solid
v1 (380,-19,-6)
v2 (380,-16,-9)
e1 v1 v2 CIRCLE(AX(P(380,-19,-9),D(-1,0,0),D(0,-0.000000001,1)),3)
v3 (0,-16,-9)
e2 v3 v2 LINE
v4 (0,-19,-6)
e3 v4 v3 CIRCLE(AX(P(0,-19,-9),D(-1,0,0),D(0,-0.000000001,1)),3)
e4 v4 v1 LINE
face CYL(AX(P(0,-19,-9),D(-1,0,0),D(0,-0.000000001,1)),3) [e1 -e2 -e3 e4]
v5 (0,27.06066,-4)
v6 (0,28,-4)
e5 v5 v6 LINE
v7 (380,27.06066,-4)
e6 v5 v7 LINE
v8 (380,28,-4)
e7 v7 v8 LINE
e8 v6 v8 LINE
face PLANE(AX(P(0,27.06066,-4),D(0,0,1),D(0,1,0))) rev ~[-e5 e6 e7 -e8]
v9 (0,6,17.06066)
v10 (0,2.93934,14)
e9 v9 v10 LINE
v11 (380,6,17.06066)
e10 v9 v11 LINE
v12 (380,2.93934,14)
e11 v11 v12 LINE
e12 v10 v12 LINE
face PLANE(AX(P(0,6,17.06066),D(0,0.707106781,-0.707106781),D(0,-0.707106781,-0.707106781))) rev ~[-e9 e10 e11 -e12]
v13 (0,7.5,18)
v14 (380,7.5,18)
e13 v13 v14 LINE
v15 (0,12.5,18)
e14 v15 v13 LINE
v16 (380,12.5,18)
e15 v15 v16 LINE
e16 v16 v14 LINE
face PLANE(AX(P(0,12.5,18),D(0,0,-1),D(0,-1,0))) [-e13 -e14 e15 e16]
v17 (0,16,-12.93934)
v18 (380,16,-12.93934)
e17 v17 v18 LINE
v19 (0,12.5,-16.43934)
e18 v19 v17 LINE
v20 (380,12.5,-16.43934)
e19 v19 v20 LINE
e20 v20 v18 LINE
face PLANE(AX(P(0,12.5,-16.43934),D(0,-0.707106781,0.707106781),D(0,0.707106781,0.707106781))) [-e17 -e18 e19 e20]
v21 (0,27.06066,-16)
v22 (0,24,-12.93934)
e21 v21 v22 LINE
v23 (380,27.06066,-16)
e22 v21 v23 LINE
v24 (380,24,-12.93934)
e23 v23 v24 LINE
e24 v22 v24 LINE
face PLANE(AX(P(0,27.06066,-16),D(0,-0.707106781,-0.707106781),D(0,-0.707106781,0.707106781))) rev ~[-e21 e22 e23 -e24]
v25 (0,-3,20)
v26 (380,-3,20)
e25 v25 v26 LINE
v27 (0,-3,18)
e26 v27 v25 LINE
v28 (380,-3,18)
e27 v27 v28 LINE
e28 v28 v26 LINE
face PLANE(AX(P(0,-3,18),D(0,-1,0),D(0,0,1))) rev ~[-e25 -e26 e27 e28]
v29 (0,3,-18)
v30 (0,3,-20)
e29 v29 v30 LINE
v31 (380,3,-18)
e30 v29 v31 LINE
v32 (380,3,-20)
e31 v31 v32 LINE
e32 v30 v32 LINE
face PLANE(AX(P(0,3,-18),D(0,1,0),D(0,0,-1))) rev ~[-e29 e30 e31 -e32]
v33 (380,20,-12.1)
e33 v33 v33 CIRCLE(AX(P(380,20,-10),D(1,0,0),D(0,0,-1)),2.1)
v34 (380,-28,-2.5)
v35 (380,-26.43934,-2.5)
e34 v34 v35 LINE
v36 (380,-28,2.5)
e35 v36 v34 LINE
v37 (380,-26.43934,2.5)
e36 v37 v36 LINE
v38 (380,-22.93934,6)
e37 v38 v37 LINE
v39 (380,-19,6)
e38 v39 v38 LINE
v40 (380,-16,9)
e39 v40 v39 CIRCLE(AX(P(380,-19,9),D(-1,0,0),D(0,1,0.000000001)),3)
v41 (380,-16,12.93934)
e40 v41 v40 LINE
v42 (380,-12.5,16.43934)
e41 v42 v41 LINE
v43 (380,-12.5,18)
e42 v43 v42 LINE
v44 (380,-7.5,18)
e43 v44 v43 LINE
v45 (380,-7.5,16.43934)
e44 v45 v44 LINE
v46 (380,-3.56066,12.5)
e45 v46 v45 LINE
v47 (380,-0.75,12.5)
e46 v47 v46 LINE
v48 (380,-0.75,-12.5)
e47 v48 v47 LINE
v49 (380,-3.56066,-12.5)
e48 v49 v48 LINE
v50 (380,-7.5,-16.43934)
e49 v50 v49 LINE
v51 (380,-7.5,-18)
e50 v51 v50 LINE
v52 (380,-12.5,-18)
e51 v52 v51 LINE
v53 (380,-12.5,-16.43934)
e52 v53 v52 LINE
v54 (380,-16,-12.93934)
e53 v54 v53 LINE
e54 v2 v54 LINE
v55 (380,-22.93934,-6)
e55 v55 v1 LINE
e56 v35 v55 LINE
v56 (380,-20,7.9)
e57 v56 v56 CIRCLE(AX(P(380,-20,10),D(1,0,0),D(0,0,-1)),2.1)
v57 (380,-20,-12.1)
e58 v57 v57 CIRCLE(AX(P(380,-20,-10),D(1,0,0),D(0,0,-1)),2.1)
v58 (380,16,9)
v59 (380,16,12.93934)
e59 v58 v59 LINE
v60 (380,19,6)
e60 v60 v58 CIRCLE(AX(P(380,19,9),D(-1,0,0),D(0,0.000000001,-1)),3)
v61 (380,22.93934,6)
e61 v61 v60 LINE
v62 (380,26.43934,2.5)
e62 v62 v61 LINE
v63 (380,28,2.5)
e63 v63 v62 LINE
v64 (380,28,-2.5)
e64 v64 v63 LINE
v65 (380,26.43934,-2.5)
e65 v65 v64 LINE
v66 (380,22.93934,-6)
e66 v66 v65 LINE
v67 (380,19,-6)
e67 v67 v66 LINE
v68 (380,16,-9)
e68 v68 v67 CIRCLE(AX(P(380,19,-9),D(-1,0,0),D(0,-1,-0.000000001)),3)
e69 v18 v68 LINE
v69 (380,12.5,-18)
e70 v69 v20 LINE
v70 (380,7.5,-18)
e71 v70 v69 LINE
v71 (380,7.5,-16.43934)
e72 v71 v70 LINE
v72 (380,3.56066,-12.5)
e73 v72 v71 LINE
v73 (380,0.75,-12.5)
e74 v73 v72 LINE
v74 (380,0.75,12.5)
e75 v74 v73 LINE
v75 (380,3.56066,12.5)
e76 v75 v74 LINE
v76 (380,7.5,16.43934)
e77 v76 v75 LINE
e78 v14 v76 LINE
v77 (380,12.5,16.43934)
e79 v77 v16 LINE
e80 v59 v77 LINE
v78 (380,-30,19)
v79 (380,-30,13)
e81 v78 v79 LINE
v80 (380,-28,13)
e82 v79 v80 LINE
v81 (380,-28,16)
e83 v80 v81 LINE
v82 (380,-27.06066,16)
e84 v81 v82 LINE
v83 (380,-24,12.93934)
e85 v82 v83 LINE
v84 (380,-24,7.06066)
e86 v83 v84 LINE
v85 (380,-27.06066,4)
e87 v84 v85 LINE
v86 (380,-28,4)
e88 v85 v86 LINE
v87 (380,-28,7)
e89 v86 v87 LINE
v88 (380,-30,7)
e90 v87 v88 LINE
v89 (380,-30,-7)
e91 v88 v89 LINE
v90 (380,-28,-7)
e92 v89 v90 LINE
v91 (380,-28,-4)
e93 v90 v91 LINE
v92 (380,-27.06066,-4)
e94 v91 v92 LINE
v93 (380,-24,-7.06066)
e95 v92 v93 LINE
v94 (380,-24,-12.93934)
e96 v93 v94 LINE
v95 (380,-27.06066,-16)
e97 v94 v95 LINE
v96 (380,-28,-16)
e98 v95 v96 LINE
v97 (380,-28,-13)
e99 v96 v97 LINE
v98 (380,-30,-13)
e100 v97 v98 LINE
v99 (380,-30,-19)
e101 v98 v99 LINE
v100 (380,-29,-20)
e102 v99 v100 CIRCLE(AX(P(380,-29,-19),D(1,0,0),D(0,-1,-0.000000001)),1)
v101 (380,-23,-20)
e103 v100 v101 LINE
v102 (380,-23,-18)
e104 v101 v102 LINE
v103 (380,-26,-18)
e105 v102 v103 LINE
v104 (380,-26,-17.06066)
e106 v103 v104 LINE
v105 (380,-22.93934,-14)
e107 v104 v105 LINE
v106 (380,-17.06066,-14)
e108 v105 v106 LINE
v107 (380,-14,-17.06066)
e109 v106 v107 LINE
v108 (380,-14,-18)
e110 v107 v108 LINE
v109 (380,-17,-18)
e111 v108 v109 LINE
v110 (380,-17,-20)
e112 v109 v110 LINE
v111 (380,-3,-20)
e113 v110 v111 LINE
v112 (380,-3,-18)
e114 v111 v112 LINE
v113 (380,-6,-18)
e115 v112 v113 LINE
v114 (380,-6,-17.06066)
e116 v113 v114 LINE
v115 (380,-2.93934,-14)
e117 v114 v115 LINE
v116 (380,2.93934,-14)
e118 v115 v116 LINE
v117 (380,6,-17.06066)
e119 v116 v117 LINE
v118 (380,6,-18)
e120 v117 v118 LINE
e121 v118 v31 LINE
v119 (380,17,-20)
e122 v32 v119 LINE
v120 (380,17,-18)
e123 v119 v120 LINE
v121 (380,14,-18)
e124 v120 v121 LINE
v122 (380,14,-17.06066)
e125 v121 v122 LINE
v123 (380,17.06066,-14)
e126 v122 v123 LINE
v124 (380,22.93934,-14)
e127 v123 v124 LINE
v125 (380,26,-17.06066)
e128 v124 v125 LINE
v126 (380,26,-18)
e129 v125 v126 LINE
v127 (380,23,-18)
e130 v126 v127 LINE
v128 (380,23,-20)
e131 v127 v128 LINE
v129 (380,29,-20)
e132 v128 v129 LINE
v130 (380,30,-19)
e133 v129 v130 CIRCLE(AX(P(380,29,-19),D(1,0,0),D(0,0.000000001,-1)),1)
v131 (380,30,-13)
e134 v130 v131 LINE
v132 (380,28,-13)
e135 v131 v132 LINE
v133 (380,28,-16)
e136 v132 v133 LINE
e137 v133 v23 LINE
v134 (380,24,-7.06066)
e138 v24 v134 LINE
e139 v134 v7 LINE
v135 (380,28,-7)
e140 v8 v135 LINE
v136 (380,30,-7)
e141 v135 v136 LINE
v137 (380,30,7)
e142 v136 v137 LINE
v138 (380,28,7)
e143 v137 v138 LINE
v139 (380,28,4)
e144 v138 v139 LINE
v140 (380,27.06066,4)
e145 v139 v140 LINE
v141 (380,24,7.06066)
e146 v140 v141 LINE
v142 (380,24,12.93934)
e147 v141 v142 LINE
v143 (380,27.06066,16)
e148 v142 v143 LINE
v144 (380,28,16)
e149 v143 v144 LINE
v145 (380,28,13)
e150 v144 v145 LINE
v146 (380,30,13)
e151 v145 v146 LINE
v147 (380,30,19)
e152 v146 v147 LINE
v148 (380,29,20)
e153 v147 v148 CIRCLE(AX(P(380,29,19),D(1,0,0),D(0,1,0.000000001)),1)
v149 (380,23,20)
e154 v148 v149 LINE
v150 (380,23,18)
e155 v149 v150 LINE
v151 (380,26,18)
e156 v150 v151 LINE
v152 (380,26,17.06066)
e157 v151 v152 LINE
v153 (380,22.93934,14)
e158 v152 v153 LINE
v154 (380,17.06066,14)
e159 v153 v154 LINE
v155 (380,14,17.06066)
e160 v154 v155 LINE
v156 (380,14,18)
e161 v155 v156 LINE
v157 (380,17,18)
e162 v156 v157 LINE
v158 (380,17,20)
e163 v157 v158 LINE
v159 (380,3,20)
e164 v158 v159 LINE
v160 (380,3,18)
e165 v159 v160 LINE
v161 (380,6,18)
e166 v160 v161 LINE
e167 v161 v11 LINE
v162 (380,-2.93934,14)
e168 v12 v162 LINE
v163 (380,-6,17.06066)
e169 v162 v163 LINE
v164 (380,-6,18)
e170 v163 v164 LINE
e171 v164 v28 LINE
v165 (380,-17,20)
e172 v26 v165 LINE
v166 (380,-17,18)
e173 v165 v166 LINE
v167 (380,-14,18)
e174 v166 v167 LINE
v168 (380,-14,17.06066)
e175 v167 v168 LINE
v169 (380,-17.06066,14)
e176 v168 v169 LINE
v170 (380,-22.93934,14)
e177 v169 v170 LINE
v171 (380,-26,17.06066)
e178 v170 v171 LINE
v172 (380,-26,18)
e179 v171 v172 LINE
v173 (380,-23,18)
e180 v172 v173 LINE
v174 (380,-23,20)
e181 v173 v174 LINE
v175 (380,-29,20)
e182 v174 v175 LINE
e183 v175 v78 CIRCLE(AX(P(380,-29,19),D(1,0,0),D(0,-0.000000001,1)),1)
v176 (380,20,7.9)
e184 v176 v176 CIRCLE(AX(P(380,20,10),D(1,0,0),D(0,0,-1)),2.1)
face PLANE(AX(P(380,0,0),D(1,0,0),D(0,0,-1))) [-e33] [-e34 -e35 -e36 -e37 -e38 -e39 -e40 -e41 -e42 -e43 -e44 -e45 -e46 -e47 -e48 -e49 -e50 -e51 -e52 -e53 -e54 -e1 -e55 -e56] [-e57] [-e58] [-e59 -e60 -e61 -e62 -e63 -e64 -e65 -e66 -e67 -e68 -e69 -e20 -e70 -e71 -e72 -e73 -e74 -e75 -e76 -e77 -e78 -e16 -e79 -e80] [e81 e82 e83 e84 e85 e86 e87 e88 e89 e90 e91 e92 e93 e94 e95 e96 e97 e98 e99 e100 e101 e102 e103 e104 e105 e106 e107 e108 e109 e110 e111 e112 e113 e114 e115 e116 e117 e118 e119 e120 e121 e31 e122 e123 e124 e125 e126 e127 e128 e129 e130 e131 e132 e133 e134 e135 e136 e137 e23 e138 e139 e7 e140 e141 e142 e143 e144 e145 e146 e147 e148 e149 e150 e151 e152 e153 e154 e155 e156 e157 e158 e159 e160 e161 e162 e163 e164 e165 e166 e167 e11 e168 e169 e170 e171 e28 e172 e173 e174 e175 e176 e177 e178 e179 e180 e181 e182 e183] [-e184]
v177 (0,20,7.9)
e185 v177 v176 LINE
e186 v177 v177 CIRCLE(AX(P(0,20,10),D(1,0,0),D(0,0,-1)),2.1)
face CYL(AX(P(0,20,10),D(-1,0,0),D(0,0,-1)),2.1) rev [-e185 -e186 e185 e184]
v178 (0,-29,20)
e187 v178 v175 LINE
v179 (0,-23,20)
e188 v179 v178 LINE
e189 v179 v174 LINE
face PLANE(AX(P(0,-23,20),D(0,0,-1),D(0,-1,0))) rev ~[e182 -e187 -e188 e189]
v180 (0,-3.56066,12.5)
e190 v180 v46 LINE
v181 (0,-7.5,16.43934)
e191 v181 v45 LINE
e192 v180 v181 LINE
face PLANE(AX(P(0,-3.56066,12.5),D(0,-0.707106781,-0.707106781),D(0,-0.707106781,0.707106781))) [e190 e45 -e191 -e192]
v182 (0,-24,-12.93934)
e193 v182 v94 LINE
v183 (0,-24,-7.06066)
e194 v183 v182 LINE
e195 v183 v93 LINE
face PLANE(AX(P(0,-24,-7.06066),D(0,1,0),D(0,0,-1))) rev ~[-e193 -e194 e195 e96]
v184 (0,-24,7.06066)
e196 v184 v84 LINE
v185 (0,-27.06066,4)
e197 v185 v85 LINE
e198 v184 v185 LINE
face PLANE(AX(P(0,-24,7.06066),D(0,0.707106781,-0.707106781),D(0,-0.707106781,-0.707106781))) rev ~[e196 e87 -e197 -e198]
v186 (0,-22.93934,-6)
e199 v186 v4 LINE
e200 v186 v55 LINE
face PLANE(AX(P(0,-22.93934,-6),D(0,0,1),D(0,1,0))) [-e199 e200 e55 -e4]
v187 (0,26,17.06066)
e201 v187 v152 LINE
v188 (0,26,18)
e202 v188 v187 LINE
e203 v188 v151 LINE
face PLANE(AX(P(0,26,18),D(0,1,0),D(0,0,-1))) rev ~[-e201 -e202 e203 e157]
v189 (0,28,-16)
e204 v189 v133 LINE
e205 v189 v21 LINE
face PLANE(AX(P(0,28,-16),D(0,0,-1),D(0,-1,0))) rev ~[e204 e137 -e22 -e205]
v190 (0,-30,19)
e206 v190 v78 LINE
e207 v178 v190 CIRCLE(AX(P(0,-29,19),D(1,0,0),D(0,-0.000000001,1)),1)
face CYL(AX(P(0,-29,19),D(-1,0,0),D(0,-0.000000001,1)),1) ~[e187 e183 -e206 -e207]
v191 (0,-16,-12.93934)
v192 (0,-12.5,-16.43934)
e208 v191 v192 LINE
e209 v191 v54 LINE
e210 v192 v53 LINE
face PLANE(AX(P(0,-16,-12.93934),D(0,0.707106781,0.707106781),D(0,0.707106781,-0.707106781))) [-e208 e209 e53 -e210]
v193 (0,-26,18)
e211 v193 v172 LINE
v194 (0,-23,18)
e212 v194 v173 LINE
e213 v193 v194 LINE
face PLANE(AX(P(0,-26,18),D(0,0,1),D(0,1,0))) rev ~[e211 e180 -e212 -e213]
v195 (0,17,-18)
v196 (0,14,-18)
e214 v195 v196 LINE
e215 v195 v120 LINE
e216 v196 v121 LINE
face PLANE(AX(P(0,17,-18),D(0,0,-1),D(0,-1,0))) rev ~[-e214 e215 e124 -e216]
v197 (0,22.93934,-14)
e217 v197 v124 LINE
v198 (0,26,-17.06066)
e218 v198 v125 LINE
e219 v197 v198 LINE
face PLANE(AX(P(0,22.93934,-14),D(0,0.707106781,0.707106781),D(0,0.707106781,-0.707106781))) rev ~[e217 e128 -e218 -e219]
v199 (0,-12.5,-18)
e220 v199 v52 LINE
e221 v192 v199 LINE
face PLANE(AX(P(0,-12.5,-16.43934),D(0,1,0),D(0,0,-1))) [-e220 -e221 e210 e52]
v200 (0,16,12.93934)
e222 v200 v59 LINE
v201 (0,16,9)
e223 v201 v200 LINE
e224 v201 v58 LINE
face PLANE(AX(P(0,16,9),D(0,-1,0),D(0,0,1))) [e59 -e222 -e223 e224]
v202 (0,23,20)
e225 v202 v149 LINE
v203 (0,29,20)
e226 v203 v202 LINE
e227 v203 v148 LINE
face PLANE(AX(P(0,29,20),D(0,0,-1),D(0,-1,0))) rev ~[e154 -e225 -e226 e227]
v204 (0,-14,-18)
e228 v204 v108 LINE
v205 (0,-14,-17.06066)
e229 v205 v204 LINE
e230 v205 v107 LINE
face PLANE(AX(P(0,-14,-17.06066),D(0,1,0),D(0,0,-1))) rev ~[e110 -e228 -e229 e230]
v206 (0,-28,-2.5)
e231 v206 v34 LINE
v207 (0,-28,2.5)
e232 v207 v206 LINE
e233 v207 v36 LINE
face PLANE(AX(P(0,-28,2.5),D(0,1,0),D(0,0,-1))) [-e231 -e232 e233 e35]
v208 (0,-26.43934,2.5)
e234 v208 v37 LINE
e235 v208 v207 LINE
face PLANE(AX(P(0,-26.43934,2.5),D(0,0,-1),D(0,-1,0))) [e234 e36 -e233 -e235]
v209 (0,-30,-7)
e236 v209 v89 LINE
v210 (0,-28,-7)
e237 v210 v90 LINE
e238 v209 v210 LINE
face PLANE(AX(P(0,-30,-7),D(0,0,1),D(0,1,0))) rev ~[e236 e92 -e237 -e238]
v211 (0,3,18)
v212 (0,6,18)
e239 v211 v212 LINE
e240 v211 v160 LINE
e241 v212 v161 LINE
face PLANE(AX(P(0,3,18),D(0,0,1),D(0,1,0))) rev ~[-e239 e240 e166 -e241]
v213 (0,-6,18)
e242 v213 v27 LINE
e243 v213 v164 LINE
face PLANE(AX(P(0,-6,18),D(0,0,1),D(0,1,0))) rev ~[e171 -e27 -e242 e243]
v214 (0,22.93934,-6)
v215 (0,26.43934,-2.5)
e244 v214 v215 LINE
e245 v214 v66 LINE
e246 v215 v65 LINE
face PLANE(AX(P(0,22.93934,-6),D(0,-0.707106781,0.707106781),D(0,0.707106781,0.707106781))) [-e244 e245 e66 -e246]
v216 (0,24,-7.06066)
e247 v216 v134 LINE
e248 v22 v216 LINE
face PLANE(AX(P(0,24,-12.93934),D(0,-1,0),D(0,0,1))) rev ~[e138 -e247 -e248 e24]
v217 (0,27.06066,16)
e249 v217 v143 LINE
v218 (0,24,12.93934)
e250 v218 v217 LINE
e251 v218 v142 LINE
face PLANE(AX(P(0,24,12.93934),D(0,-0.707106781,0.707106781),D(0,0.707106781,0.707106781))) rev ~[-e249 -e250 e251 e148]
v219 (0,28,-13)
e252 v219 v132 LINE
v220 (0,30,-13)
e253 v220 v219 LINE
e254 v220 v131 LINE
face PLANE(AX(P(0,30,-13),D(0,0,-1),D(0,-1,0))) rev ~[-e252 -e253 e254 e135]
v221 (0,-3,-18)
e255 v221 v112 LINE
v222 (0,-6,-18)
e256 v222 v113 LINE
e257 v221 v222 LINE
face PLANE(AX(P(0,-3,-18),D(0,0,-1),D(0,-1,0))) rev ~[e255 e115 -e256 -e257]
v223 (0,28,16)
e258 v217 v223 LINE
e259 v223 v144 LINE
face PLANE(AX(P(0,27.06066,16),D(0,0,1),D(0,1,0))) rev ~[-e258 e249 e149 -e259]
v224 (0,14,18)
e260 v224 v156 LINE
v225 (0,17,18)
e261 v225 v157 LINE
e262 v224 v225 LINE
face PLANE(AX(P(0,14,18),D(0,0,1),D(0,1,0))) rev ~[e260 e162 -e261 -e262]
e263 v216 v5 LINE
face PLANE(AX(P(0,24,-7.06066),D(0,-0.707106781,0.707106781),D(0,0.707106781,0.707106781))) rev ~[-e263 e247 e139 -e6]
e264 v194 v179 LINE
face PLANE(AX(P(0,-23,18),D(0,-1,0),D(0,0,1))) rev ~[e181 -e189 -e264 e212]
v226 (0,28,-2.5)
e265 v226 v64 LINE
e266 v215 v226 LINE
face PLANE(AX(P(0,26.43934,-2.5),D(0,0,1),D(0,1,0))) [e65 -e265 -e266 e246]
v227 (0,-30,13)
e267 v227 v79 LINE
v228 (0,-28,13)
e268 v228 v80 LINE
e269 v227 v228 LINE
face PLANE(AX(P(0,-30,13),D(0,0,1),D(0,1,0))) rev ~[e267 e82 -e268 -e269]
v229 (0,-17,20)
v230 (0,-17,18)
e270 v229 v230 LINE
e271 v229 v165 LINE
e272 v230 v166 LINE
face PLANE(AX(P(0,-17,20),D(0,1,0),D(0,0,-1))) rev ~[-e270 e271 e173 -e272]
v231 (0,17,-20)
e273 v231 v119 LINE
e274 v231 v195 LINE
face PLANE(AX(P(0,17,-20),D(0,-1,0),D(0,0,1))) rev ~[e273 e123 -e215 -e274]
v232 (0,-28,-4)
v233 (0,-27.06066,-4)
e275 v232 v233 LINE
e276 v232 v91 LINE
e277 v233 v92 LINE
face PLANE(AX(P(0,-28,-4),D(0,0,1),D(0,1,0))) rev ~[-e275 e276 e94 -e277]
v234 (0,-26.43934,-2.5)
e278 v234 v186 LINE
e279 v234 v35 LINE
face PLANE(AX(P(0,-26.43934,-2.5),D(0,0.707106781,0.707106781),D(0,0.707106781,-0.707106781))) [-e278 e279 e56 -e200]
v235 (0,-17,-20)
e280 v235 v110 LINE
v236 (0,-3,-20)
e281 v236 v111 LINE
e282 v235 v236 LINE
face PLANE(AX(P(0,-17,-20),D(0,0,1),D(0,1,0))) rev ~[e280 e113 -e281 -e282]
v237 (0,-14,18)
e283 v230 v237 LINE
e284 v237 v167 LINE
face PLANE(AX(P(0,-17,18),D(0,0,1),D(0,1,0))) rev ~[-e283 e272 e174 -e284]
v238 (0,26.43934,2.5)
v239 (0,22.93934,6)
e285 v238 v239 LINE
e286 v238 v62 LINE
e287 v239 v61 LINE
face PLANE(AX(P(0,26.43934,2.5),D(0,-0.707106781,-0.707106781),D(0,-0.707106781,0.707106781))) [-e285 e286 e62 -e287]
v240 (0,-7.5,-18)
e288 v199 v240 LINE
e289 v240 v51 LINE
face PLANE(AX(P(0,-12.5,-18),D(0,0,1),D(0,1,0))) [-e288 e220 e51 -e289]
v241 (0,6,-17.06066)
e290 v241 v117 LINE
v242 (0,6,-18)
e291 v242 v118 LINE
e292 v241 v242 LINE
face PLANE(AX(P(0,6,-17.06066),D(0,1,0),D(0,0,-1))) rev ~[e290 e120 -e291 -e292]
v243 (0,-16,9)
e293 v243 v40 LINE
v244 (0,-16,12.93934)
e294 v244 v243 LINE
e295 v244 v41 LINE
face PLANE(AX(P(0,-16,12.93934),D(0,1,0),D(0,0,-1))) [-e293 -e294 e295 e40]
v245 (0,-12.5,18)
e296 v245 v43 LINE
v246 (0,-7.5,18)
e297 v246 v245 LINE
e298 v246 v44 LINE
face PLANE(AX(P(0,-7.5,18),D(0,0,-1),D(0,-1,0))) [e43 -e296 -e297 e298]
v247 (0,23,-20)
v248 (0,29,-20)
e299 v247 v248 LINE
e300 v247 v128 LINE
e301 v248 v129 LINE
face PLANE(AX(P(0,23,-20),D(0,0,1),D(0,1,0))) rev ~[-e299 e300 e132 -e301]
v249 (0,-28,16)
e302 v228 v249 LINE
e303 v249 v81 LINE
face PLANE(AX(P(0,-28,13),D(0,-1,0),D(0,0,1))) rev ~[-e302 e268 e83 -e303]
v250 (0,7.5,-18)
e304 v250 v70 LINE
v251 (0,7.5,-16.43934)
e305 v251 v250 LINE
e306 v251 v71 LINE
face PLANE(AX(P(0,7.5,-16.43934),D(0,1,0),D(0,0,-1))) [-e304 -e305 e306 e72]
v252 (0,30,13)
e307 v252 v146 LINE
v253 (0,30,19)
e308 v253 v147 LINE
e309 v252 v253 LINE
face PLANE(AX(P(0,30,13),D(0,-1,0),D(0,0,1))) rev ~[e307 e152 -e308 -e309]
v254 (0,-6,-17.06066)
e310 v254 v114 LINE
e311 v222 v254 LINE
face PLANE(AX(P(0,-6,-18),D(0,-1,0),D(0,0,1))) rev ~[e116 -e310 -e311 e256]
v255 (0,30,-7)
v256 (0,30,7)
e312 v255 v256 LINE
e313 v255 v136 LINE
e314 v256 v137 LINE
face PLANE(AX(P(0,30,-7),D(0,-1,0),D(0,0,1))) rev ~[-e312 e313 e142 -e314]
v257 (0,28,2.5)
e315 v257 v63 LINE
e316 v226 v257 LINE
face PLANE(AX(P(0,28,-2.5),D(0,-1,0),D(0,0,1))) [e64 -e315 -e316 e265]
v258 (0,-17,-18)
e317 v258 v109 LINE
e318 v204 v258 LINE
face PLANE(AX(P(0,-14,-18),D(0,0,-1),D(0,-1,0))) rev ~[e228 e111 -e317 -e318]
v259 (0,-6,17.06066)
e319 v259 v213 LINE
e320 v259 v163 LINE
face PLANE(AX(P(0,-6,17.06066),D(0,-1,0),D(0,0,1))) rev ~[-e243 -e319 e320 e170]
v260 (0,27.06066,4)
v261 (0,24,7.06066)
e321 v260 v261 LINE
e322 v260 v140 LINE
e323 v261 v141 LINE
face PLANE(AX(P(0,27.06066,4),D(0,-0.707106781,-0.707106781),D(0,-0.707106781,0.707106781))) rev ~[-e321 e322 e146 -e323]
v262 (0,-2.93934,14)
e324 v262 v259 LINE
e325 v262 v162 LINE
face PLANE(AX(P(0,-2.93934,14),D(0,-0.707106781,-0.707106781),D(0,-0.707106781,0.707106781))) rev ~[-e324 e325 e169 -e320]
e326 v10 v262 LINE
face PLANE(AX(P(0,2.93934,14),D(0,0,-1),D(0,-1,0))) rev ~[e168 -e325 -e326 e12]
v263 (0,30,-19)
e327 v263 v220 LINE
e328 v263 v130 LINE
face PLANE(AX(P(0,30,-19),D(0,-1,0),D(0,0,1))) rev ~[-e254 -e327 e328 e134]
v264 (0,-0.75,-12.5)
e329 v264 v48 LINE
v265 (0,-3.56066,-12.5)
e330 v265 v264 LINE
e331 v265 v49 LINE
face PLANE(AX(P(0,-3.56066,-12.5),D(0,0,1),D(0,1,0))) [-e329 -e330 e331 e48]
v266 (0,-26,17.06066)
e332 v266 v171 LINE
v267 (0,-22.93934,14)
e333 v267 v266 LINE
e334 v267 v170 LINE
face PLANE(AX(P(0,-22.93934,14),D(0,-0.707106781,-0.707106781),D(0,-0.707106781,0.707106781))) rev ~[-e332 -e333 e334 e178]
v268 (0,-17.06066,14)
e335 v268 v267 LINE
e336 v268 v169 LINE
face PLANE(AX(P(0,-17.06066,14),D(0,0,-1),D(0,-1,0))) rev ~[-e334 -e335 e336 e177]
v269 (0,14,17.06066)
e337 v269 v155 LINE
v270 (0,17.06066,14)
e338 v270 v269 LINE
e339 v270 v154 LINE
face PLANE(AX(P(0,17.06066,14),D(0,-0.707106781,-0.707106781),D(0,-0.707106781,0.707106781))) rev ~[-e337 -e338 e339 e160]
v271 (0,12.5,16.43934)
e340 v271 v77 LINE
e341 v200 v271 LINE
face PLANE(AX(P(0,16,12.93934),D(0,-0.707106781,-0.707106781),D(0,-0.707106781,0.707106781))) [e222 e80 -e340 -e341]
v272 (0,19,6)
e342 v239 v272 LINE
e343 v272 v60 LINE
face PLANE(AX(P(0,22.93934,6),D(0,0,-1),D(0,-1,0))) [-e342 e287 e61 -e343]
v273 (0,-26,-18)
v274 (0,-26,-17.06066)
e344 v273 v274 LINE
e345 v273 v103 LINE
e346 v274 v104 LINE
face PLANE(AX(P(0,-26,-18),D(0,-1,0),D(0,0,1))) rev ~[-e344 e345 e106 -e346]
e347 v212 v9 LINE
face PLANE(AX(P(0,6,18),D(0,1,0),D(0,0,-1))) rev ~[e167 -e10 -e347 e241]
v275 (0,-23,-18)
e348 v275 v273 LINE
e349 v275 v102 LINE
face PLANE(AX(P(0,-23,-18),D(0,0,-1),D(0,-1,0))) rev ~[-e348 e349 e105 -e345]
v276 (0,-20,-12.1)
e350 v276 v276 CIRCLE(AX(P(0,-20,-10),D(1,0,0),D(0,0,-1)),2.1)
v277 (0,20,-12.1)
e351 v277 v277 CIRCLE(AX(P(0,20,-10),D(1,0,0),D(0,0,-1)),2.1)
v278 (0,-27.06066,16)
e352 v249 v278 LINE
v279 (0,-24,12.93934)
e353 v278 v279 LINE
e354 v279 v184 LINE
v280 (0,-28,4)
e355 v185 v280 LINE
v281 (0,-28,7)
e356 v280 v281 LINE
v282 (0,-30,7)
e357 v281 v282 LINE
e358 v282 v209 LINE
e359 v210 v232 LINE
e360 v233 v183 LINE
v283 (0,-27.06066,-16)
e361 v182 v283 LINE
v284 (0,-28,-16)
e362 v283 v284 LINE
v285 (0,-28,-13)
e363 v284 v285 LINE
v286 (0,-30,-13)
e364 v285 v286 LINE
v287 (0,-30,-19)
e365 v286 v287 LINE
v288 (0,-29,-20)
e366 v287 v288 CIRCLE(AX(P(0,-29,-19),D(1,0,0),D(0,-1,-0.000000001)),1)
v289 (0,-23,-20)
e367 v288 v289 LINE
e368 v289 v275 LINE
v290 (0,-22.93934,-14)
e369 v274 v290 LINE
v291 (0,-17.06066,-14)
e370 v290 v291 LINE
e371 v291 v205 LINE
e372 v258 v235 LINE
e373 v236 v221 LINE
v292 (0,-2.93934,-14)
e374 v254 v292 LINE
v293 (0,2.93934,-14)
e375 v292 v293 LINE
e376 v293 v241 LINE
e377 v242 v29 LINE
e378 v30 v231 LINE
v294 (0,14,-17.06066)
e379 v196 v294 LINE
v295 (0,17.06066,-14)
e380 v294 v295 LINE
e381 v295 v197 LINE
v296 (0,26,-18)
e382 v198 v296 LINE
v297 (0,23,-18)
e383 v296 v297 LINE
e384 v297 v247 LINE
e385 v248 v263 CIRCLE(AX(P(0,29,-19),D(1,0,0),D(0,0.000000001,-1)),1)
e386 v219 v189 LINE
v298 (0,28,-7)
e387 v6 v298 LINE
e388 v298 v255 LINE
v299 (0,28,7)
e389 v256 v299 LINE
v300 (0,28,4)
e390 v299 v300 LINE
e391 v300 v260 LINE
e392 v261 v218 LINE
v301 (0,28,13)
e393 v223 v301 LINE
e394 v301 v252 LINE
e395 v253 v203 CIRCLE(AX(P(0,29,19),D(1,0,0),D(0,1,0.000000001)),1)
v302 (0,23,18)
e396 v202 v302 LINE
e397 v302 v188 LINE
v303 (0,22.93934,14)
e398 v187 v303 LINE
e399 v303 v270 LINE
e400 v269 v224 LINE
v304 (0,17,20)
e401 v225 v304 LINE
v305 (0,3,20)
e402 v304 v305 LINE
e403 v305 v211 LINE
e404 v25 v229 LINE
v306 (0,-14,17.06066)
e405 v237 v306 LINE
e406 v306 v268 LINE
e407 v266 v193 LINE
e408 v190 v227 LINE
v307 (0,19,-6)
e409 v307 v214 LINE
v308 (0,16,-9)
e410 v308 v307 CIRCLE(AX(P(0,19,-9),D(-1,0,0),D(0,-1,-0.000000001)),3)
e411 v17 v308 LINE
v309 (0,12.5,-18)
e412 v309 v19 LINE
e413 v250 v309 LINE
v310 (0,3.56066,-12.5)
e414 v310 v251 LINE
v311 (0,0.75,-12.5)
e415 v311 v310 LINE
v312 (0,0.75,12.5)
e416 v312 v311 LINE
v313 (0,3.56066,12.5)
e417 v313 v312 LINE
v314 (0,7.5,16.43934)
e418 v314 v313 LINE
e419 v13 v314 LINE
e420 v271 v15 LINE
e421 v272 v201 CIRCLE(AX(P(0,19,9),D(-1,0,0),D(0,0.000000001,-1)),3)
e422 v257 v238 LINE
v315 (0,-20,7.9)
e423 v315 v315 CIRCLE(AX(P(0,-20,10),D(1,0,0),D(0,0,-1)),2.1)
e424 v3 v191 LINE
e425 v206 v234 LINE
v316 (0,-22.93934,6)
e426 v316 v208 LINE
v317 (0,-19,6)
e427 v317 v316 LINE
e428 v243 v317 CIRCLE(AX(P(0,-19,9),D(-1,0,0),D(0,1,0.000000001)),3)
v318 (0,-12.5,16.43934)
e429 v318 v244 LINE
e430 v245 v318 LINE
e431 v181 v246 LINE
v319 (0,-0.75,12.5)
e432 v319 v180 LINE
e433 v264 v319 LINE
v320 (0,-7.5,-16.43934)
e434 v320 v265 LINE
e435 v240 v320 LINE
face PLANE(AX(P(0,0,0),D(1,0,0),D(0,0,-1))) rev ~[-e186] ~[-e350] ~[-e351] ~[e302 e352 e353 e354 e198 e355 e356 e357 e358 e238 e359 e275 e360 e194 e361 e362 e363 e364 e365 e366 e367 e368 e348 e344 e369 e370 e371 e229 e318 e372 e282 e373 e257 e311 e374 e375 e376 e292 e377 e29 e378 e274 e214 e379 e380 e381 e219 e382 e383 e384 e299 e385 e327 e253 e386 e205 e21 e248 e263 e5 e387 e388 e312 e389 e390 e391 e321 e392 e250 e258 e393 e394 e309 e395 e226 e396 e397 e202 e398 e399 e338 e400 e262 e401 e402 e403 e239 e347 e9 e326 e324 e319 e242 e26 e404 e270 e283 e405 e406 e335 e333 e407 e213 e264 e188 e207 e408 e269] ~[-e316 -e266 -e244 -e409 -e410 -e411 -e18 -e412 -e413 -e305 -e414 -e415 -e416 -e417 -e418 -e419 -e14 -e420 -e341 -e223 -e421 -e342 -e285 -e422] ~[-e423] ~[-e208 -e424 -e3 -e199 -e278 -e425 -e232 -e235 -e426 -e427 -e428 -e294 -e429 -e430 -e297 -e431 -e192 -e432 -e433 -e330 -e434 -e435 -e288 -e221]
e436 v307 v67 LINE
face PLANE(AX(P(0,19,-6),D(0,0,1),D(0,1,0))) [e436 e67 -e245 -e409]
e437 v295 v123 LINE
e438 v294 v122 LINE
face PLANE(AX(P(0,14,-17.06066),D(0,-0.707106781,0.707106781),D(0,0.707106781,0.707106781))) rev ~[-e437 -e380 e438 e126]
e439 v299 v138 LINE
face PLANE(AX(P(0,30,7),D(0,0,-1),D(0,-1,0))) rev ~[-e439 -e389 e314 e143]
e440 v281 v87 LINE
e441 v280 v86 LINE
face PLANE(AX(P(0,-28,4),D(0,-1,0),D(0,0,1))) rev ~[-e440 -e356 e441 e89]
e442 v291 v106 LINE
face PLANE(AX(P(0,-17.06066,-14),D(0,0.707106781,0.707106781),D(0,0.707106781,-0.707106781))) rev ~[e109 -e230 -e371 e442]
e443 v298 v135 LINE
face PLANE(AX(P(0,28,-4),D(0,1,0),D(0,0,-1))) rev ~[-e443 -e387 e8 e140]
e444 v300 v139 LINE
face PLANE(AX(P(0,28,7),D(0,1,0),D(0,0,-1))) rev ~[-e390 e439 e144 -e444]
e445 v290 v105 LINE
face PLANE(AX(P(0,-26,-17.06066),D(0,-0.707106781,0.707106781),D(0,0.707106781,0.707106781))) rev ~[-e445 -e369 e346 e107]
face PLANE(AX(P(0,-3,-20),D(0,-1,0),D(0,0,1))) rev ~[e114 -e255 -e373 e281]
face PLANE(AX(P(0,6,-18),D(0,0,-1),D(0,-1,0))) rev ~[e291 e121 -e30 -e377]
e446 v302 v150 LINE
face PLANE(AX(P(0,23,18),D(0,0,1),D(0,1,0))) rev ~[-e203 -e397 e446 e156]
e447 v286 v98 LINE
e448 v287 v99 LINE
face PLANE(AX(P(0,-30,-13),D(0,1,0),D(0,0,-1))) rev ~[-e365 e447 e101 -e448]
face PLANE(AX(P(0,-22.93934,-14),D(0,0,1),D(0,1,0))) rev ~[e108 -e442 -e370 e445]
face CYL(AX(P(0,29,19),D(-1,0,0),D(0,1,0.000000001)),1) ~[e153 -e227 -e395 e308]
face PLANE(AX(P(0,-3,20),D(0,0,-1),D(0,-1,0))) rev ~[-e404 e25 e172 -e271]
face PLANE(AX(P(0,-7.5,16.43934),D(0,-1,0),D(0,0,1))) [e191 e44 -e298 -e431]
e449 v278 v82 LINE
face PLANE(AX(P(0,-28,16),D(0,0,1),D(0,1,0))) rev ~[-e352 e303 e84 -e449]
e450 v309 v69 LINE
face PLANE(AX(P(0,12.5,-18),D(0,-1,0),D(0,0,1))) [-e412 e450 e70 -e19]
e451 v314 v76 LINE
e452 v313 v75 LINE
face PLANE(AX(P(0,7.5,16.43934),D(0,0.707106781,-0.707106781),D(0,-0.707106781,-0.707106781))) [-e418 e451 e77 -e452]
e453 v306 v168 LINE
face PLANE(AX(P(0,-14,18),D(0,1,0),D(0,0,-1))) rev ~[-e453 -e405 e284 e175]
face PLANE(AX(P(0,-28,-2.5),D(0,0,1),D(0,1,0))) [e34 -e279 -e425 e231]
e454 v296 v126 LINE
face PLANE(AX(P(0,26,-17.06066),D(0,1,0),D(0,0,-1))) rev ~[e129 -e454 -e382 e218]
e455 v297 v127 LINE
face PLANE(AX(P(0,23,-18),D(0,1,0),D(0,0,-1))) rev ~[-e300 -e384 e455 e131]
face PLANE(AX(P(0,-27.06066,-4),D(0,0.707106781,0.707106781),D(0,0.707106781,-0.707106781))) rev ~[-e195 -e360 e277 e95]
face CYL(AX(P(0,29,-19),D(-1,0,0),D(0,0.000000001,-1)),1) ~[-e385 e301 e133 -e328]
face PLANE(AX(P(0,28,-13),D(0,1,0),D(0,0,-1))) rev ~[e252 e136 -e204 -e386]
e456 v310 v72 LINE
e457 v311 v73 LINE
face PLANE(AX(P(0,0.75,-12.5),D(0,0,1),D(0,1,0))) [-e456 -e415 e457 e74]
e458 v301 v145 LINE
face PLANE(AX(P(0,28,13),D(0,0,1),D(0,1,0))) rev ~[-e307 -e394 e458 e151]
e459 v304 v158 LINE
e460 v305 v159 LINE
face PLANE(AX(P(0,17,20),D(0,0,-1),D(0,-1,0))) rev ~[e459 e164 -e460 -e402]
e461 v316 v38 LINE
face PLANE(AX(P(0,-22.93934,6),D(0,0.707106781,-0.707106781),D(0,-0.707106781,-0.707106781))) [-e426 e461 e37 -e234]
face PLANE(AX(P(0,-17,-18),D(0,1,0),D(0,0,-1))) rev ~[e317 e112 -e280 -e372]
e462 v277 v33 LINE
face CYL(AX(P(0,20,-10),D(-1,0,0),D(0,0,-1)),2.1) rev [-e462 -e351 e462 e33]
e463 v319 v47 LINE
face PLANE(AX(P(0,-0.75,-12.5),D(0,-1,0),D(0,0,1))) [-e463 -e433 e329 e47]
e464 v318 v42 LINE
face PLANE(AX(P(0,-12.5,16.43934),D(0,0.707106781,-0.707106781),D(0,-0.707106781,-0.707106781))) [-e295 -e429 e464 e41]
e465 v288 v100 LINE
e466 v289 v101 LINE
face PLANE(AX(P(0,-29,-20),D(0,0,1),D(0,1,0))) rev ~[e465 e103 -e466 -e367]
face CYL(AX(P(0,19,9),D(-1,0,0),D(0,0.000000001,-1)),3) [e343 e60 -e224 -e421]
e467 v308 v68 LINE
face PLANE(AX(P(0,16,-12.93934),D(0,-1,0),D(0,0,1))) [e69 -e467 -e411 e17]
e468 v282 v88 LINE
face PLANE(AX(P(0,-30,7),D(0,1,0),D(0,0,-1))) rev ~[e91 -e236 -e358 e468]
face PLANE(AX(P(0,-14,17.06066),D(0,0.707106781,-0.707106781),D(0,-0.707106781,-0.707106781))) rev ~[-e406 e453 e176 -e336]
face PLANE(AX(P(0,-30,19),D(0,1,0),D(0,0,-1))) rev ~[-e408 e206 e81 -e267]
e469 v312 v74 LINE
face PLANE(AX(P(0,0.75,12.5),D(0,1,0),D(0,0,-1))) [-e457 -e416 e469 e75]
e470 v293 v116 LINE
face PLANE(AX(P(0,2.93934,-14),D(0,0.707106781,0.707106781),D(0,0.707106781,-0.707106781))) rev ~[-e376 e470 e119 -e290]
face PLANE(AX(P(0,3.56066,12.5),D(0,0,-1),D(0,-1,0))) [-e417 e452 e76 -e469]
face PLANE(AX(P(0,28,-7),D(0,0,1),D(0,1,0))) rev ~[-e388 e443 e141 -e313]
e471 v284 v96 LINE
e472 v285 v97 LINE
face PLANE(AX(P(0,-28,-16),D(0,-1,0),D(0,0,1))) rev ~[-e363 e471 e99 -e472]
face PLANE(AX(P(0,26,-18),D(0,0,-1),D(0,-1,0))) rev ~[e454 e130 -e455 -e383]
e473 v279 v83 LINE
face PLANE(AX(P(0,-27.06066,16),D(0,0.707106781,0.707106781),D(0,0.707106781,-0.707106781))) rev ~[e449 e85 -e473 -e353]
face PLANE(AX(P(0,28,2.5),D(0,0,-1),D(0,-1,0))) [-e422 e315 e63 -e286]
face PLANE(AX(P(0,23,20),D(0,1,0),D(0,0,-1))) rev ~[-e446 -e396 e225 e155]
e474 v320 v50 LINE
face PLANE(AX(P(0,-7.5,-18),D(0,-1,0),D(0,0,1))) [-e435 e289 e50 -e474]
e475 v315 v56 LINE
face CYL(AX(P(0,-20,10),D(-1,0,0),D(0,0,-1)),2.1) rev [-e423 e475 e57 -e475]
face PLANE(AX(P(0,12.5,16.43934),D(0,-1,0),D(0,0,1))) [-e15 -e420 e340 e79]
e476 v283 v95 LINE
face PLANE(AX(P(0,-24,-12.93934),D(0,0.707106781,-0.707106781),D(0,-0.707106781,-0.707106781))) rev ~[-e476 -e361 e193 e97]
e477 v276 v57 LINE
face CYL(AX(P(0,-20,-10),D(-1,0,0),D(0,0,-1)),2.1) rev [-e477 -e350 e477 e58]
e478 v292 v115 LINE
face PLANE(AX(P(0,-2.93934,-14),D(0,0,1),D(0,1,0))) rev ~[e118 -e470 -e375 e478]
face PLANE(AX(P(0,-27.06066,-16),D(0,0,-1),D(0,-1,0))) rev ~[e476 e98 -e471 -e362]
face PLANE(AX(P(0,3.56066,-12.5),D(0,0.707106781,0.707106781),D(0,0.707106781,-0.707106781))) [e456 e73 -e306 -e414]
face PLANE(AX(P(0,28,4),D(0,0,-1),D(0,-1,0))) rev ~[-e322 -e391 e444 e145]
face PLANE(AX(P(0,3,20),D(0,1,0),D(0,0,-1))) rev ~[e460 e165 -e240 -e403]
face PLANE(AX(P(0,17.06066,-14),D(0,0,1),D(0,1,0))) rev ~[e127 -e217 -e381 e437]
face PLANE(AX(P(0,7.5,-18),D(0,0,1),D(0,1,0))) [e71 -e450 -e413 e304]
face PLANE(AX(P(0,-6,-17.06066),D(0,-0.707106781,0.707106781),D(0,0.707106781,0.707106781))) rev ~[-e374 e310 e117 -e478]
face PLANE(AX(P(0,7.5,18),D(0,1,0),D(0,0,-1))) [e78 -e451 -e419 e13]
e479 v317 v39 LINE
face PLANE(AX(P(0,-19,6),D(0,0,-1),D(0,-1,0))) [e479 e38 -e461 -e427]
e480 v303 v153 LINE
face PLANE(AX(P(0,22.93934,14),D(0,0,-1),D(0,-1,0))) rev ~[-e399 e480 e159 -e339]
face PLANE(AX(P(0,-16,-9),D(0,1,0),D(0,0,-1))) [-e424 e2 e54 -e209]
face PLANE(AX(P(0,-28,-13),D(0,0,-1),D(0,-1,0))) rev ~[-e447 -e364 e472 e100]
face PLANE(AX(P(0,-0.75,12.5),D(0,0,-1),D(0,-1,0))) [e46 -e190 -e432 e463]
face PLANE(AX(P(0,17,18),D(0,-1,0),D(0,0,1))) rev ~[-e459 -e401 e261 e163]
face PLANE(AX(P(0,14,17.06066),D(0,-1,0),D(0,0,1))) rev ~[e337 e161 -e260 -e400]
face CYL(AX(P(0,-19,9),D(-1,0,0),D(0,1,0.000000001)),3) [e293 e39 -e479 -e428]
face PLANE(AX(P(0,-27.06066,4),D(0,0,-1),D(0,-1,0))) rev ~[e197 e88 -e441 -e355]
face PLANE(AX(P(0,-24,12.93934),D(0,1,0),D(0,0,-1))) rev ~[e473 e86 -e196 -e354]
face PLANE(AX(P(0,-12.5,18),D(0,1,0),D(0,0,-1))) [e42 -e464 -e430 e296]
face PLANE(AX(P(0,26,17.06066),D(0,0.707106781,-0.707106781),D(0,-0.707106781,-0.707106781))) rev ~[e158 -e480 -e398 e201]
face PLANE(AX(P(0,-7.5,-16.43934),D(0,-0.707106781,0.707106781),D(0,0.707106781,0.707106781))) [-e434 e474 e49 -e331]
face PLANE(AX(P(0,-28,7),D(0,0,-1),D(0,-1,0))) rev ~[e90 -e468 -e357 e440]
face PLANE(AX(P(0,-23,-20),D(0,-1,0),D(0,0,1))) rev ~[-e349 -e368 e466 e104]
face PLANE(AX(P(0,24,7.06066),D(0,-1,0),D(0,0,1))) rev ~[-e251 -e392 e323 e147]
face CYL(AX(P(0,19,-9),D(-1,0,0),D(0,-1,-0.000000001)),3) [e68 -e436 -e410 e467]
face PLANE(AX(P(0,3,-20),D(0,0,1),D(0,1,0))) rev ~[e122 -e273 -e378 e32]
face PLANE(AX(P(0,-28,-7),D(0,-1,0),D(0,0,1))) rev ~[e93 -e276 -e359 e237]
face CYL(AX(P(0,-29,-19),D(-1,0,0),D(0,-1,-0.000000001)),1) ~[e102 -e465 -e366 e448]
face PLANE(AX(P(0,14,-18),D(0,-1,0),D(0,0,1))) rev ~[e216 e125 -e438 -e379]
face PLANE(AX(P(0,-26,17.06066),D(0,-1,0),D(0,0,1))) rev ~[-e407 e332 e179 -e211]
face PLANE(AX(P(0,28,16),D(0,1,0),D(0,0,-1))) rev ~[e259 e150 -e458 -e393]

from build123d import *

# Parameters (mm, degrees)
SKETCH1_R           = 2.1
BOSS_EXTRUDE1_DEPTH = 380


with BuildPart() as part:
    # Sketch1 → Boss-Extrude1 (new body)
    with BuildSketch(Plane(origin=(0, 0, 0), x_dir=(0, 0, -1), z_dir=(1, 0, 0))):
        with BuildLine():
            Line((-20, 29), (-20, 23))
            Line((-20, 23), (-18, 23))
            Line((-18, 23), (-18, 26))
            Line((-18, 26), (-17.060660172, 26))
            Line((-17.060660172, 26), (-14, 22.939339828))
            Line((-14, 22.939339828), (-14, 17.060660172))
            Line((-14, 17.060660172), (-17.060660172, 14))
            Line((-17.060660172, 14), (-18, 14))
            Line((-18, 14), (-18, 17))
            Line((-18, 17), (-20, 17))
            Line((-20, 17), (-20, 3))
            Line((-20, 3), (-18, 3))
            Line((-18, 3), (-18, 6))
            Line((-18, 6), (-17.060660172, 6))
            Line((-17.060660172, 6), (-14, 2.939339828))
            Line((-14, 2.939339828), (-14, -2.939339828))
            Line((-14, -2.939339828), (-17.060660172, -6))
            Line((-17.060660172, -6), (-18, -6))
            Line((-18, -6), (-18, -3))
            Line((-18, -3), (-20, -3))
            Line((-20, -3), (-20, -17))
            Line((-20, -17), (-18, -17))
            Line((-18, -17), (-18, -14))
            Line((-18, -14), (-17.060660172, -14))
            Line((-17.060660172, -14), (-14, -17.060660172))
            Line((-14, -17.060660172), (-14, -22.939339828))
            Line((-14, -22.939339828), (-17.060660172, -26))
            Line((-17.060660172, -26), (-18, -26))
            Line((-18, -26), (-18, -23))
            Line((-18, -23), (-20, -23))
            Line((-20, -23), (-20, -29))
            ThreePointArc((-20, -29), (-19.707106781, -29.707106781), (-19, -30))
            Line((-19, -30), (-13, -30))
            Line((-13, -30), (-13, -28))
            Line((-13, -28), (-16, -28))
            Line((-16, -28), (-16, -27.060660172))
            Line((-16, -27.060660172), (-12.939339828, -24))
            Line((-12.939339828, -24), (-7.060660172, -24))
            Line((-7.060660172, -24), (-4, -27.060660172))
            Line((-4, -27.060660172), (-4, -28))
            Line((-4, -28), (-7, -28))
            Line((-7, -28), (-7, -30))
            Line((-7, -30), (7, -30))
            Line((7, -30), (7, -28))
            Line((7, -28), (4, -28))
            Line((4, -28), (4, -27.060660172))
            Line((4, -27.060660172), (7.060660172, -24))
            Line((7.060660172, -24), (12.939339828, -24))
            Line((12.939339828, -24), (16, -27.060660172))
            Line((16, -27.060660172), (16, -28))
            Line((16, -28), (13, -28))
            Line((13, -28), (13, -30))
            Line((13, -30), (19, -30))
            ThreePointArc((19, -30), (19.707106781, -29.707106781), (20, -29))
            Line((20, -29), (20, -23))
            Line((20, -23), (18, -23))
            Line((18, -23), (18, -26))
            Line((18, -26), (17.060660172, -26))
            Line((17.060660172, -26), (14, -22.939339828))
            Line((14, -22.939339828), (14, -17.060660172))
            Line((14, -17.060660172), (17.060660172, -14))
            Line((17.060660172, -14), (18, -14))
            Line((18, -14), (18, -17))
            Line((18, -17), (20, -17))
            Line((20, -17), (20, -3))
            Line((20, -3), (18, -3))
            Line((18, -3), (18, -6))
            Line((18, -6), (17.060660172, -6))
            Line((17.060660172, -6), (14, -2.939339828))
            Line((14, -2.939339828), (14, 2.939339828))
            Line((14, 2.939339828), (17.060660172, 6))
            Line((17.060660172, 6), (18, 6))
            Line((18, 6), (18, 3))
            Line((18, 3), (20, 3))
            Line((20, 3), (20, 17))
            Line((20, 17), (18, 17))
            Line((18, 17), (18, 14))
            Line((18, 14), (17.060660172, 14))
            Line((17.060660172, 14), (14, 17.060660172))
            Line((14, 17.060660172), (14, 22.939339828))
            Line((14, 22.939339828), (17.060660172, 26))
            Line((17.060660172, 26), (18, 26))
            Line((18, 26), (18, 23))
            Line((18, 23), (20, 23))
            Line((20, 23), (20, 29))
            ThreePointArc((20, 29), (19.707106781, 29.707106781), (19, 30))
            Line((19, 30), (13, 30))
            Line((13, 30), (13, 28))
            Line((13, 28), (16, 28))
            Line((16, 28), (16, 27.060660172))
            Line((16, 27.060660172), (12.939339828, 24))
            Line((12.939339828, 24), (7.060660172, 24))
            Line((7.060660172, 24), (4, 27.060660172))
            Line((4, 27.060660172), (4, 28))
            Line((4, 28), (7, 28))
            Line((7, 28), (7, 30))
            Line((7, 30), (-7, 30))
            Line((-7, 30), (-7, 28))
            Line((-7, 28), (-4, 28))
            Line((-4, 28), (-4, 27.060660172))
            Line((-4, 27.060660172), (-7.060660172, 24))
            Line((-7.060660172, 24), (-12.939339828, 24))
            Line((-12.939339828, 24), (-16, 27.060660172))
            Line((-16, 27.060660172), (-16, 28))
            Line((-16, 28), (-13, 28))
            Line((-13, 28), (-13, 30))
            Line((-13, 30), (-19, 30))
            ThreePointArc((-19, 30), (-19.707106781, 29.707106781), (-20, 29))
        make_face()
        with Locations((-10, 20)):
            Circle(SKETCH1_R, mode=Mode.SUBTRACT)
        with Locations((10, 20)):
            Circle(SKETCH1_R, mode=Mode.SUBTRACT)
        with Locations((10, -20)):
            Circle(SKETCH1_R, mode=Mode.SUBTRACT)
        with Locations((-10, -20)):
            Circle(SKETCH1_R, mode=Mode.SUBTRACT)
        with BuildLine():
            Line((-16.439339828, 12.5), (-18, 12.5))
            Line((-18, 12.5), (-18, 7.5))
            Line((-18, 7.5), (-16.439339828, 7.5))
            Line((-16.439339828, 7.5), (-12.5, 3.560660172))
            Line((-12.5, 3.560660172), (-12.5, 0.75))
            Line((-12.5, 0.75), (12.5, 0.75))
            Line((12.5, 0.75), (12.5, 3.560660172))
            Line((12.5, 3.560660172), (16.439339828, 7.5))
            Line((16.439339828, 7.5), (18, 7.5))
            Line((18, 7.5), (18, 12.5))
            Line((18, 12.5), (16.439339828, 12.5))
            Line((16.439339828, 12.5), (12.939339828, 16))
            Line((12.939339828, 16), (9, 16))
            ThreePointArc((9, 16), (6.878679656, 16.878679656), (6, 19))
            Line((6, 19), (6, 22.939339828))
            Line((6, 22.939339828), (2.5, 26.439339828))
            Line((2.5, 26.439339828), (2.5, 28))
            Line((2.5, 28), (-2.5, 28))
            Line((-2.5, 28), (-2.5, 26.439339828))
            Line((-2.5, 26.439339828), (-6, 22.939339828))
            Line((-6, 22.939339828), (-6, 19))
            ThreePointArc((-6, 19), (-6.878679656, 16.878679656), (-9, 16))
            Line((-9, 16), (-12.939339828, 16))
            Line((-12.939339828, 16), (-16.439339828, 12.5))
        make_face(mode=Mode.SUBTRACT)
        with BuildLine():
            Line((-18, -7.5), (-18, -12.5))
            Line((-18, -12.5), (-16.439339828, -12.5))
            Line((-16.439339828, -12.5), (-12.939339828, -16))
            Line((-12.939339828, -16), (-9, -16))
            ThreePointArc((-9, -16), (-6.878679656, -16.878679656), (-6, -19))
            Line((-6, -19), (-6, -22.939339828))
            Line((-6, -22.939339828), (-2.5, -26.439339828))
            Line((-2.5, -26.439339828), (-2.5, -28))
            Line((-2.5, -28), (2.5, -28))
            Line((2.5, -28), (2.5, -26.439339828))
            Line((2.5, -26.439339828), (6, -22.939339828))
            Line((6, -22.939339828), (6, -19))
            ThreePointArc((6, -19), (6.878679656, -16.878679656), (9, -16))
            Line((9, -16), (12.939339828, -16))
            Line((12.939339828, -16), (16.439339828, -12.5))
            Line((16.439339828, -12.5), (18, -12.5))
            Line((18, -12.5), (18, -7.5))
            Line((18, -7.5), (16.439339828, -7.5))
            Line((16.439339828, -7.5), (12.5, -3.560660172))
            Line((12.5, -3.560660172), (12.5, -0.75))
            Line((12.5, -0.75), (-12.5, -0.75))
            Line((-12.5, -0.75), (-12.5, -3.560660172))
            Line((-12.5, -3.560660172), (-16.439339828, -7.5))
            Line((-16.439339828, -7.5), (-18, -7.5))
        make_face(mode=Mode.SUBTRACT)
    extrude(amount=BOSS_EXTRUDE1_DEPTH)


solid = part.part
